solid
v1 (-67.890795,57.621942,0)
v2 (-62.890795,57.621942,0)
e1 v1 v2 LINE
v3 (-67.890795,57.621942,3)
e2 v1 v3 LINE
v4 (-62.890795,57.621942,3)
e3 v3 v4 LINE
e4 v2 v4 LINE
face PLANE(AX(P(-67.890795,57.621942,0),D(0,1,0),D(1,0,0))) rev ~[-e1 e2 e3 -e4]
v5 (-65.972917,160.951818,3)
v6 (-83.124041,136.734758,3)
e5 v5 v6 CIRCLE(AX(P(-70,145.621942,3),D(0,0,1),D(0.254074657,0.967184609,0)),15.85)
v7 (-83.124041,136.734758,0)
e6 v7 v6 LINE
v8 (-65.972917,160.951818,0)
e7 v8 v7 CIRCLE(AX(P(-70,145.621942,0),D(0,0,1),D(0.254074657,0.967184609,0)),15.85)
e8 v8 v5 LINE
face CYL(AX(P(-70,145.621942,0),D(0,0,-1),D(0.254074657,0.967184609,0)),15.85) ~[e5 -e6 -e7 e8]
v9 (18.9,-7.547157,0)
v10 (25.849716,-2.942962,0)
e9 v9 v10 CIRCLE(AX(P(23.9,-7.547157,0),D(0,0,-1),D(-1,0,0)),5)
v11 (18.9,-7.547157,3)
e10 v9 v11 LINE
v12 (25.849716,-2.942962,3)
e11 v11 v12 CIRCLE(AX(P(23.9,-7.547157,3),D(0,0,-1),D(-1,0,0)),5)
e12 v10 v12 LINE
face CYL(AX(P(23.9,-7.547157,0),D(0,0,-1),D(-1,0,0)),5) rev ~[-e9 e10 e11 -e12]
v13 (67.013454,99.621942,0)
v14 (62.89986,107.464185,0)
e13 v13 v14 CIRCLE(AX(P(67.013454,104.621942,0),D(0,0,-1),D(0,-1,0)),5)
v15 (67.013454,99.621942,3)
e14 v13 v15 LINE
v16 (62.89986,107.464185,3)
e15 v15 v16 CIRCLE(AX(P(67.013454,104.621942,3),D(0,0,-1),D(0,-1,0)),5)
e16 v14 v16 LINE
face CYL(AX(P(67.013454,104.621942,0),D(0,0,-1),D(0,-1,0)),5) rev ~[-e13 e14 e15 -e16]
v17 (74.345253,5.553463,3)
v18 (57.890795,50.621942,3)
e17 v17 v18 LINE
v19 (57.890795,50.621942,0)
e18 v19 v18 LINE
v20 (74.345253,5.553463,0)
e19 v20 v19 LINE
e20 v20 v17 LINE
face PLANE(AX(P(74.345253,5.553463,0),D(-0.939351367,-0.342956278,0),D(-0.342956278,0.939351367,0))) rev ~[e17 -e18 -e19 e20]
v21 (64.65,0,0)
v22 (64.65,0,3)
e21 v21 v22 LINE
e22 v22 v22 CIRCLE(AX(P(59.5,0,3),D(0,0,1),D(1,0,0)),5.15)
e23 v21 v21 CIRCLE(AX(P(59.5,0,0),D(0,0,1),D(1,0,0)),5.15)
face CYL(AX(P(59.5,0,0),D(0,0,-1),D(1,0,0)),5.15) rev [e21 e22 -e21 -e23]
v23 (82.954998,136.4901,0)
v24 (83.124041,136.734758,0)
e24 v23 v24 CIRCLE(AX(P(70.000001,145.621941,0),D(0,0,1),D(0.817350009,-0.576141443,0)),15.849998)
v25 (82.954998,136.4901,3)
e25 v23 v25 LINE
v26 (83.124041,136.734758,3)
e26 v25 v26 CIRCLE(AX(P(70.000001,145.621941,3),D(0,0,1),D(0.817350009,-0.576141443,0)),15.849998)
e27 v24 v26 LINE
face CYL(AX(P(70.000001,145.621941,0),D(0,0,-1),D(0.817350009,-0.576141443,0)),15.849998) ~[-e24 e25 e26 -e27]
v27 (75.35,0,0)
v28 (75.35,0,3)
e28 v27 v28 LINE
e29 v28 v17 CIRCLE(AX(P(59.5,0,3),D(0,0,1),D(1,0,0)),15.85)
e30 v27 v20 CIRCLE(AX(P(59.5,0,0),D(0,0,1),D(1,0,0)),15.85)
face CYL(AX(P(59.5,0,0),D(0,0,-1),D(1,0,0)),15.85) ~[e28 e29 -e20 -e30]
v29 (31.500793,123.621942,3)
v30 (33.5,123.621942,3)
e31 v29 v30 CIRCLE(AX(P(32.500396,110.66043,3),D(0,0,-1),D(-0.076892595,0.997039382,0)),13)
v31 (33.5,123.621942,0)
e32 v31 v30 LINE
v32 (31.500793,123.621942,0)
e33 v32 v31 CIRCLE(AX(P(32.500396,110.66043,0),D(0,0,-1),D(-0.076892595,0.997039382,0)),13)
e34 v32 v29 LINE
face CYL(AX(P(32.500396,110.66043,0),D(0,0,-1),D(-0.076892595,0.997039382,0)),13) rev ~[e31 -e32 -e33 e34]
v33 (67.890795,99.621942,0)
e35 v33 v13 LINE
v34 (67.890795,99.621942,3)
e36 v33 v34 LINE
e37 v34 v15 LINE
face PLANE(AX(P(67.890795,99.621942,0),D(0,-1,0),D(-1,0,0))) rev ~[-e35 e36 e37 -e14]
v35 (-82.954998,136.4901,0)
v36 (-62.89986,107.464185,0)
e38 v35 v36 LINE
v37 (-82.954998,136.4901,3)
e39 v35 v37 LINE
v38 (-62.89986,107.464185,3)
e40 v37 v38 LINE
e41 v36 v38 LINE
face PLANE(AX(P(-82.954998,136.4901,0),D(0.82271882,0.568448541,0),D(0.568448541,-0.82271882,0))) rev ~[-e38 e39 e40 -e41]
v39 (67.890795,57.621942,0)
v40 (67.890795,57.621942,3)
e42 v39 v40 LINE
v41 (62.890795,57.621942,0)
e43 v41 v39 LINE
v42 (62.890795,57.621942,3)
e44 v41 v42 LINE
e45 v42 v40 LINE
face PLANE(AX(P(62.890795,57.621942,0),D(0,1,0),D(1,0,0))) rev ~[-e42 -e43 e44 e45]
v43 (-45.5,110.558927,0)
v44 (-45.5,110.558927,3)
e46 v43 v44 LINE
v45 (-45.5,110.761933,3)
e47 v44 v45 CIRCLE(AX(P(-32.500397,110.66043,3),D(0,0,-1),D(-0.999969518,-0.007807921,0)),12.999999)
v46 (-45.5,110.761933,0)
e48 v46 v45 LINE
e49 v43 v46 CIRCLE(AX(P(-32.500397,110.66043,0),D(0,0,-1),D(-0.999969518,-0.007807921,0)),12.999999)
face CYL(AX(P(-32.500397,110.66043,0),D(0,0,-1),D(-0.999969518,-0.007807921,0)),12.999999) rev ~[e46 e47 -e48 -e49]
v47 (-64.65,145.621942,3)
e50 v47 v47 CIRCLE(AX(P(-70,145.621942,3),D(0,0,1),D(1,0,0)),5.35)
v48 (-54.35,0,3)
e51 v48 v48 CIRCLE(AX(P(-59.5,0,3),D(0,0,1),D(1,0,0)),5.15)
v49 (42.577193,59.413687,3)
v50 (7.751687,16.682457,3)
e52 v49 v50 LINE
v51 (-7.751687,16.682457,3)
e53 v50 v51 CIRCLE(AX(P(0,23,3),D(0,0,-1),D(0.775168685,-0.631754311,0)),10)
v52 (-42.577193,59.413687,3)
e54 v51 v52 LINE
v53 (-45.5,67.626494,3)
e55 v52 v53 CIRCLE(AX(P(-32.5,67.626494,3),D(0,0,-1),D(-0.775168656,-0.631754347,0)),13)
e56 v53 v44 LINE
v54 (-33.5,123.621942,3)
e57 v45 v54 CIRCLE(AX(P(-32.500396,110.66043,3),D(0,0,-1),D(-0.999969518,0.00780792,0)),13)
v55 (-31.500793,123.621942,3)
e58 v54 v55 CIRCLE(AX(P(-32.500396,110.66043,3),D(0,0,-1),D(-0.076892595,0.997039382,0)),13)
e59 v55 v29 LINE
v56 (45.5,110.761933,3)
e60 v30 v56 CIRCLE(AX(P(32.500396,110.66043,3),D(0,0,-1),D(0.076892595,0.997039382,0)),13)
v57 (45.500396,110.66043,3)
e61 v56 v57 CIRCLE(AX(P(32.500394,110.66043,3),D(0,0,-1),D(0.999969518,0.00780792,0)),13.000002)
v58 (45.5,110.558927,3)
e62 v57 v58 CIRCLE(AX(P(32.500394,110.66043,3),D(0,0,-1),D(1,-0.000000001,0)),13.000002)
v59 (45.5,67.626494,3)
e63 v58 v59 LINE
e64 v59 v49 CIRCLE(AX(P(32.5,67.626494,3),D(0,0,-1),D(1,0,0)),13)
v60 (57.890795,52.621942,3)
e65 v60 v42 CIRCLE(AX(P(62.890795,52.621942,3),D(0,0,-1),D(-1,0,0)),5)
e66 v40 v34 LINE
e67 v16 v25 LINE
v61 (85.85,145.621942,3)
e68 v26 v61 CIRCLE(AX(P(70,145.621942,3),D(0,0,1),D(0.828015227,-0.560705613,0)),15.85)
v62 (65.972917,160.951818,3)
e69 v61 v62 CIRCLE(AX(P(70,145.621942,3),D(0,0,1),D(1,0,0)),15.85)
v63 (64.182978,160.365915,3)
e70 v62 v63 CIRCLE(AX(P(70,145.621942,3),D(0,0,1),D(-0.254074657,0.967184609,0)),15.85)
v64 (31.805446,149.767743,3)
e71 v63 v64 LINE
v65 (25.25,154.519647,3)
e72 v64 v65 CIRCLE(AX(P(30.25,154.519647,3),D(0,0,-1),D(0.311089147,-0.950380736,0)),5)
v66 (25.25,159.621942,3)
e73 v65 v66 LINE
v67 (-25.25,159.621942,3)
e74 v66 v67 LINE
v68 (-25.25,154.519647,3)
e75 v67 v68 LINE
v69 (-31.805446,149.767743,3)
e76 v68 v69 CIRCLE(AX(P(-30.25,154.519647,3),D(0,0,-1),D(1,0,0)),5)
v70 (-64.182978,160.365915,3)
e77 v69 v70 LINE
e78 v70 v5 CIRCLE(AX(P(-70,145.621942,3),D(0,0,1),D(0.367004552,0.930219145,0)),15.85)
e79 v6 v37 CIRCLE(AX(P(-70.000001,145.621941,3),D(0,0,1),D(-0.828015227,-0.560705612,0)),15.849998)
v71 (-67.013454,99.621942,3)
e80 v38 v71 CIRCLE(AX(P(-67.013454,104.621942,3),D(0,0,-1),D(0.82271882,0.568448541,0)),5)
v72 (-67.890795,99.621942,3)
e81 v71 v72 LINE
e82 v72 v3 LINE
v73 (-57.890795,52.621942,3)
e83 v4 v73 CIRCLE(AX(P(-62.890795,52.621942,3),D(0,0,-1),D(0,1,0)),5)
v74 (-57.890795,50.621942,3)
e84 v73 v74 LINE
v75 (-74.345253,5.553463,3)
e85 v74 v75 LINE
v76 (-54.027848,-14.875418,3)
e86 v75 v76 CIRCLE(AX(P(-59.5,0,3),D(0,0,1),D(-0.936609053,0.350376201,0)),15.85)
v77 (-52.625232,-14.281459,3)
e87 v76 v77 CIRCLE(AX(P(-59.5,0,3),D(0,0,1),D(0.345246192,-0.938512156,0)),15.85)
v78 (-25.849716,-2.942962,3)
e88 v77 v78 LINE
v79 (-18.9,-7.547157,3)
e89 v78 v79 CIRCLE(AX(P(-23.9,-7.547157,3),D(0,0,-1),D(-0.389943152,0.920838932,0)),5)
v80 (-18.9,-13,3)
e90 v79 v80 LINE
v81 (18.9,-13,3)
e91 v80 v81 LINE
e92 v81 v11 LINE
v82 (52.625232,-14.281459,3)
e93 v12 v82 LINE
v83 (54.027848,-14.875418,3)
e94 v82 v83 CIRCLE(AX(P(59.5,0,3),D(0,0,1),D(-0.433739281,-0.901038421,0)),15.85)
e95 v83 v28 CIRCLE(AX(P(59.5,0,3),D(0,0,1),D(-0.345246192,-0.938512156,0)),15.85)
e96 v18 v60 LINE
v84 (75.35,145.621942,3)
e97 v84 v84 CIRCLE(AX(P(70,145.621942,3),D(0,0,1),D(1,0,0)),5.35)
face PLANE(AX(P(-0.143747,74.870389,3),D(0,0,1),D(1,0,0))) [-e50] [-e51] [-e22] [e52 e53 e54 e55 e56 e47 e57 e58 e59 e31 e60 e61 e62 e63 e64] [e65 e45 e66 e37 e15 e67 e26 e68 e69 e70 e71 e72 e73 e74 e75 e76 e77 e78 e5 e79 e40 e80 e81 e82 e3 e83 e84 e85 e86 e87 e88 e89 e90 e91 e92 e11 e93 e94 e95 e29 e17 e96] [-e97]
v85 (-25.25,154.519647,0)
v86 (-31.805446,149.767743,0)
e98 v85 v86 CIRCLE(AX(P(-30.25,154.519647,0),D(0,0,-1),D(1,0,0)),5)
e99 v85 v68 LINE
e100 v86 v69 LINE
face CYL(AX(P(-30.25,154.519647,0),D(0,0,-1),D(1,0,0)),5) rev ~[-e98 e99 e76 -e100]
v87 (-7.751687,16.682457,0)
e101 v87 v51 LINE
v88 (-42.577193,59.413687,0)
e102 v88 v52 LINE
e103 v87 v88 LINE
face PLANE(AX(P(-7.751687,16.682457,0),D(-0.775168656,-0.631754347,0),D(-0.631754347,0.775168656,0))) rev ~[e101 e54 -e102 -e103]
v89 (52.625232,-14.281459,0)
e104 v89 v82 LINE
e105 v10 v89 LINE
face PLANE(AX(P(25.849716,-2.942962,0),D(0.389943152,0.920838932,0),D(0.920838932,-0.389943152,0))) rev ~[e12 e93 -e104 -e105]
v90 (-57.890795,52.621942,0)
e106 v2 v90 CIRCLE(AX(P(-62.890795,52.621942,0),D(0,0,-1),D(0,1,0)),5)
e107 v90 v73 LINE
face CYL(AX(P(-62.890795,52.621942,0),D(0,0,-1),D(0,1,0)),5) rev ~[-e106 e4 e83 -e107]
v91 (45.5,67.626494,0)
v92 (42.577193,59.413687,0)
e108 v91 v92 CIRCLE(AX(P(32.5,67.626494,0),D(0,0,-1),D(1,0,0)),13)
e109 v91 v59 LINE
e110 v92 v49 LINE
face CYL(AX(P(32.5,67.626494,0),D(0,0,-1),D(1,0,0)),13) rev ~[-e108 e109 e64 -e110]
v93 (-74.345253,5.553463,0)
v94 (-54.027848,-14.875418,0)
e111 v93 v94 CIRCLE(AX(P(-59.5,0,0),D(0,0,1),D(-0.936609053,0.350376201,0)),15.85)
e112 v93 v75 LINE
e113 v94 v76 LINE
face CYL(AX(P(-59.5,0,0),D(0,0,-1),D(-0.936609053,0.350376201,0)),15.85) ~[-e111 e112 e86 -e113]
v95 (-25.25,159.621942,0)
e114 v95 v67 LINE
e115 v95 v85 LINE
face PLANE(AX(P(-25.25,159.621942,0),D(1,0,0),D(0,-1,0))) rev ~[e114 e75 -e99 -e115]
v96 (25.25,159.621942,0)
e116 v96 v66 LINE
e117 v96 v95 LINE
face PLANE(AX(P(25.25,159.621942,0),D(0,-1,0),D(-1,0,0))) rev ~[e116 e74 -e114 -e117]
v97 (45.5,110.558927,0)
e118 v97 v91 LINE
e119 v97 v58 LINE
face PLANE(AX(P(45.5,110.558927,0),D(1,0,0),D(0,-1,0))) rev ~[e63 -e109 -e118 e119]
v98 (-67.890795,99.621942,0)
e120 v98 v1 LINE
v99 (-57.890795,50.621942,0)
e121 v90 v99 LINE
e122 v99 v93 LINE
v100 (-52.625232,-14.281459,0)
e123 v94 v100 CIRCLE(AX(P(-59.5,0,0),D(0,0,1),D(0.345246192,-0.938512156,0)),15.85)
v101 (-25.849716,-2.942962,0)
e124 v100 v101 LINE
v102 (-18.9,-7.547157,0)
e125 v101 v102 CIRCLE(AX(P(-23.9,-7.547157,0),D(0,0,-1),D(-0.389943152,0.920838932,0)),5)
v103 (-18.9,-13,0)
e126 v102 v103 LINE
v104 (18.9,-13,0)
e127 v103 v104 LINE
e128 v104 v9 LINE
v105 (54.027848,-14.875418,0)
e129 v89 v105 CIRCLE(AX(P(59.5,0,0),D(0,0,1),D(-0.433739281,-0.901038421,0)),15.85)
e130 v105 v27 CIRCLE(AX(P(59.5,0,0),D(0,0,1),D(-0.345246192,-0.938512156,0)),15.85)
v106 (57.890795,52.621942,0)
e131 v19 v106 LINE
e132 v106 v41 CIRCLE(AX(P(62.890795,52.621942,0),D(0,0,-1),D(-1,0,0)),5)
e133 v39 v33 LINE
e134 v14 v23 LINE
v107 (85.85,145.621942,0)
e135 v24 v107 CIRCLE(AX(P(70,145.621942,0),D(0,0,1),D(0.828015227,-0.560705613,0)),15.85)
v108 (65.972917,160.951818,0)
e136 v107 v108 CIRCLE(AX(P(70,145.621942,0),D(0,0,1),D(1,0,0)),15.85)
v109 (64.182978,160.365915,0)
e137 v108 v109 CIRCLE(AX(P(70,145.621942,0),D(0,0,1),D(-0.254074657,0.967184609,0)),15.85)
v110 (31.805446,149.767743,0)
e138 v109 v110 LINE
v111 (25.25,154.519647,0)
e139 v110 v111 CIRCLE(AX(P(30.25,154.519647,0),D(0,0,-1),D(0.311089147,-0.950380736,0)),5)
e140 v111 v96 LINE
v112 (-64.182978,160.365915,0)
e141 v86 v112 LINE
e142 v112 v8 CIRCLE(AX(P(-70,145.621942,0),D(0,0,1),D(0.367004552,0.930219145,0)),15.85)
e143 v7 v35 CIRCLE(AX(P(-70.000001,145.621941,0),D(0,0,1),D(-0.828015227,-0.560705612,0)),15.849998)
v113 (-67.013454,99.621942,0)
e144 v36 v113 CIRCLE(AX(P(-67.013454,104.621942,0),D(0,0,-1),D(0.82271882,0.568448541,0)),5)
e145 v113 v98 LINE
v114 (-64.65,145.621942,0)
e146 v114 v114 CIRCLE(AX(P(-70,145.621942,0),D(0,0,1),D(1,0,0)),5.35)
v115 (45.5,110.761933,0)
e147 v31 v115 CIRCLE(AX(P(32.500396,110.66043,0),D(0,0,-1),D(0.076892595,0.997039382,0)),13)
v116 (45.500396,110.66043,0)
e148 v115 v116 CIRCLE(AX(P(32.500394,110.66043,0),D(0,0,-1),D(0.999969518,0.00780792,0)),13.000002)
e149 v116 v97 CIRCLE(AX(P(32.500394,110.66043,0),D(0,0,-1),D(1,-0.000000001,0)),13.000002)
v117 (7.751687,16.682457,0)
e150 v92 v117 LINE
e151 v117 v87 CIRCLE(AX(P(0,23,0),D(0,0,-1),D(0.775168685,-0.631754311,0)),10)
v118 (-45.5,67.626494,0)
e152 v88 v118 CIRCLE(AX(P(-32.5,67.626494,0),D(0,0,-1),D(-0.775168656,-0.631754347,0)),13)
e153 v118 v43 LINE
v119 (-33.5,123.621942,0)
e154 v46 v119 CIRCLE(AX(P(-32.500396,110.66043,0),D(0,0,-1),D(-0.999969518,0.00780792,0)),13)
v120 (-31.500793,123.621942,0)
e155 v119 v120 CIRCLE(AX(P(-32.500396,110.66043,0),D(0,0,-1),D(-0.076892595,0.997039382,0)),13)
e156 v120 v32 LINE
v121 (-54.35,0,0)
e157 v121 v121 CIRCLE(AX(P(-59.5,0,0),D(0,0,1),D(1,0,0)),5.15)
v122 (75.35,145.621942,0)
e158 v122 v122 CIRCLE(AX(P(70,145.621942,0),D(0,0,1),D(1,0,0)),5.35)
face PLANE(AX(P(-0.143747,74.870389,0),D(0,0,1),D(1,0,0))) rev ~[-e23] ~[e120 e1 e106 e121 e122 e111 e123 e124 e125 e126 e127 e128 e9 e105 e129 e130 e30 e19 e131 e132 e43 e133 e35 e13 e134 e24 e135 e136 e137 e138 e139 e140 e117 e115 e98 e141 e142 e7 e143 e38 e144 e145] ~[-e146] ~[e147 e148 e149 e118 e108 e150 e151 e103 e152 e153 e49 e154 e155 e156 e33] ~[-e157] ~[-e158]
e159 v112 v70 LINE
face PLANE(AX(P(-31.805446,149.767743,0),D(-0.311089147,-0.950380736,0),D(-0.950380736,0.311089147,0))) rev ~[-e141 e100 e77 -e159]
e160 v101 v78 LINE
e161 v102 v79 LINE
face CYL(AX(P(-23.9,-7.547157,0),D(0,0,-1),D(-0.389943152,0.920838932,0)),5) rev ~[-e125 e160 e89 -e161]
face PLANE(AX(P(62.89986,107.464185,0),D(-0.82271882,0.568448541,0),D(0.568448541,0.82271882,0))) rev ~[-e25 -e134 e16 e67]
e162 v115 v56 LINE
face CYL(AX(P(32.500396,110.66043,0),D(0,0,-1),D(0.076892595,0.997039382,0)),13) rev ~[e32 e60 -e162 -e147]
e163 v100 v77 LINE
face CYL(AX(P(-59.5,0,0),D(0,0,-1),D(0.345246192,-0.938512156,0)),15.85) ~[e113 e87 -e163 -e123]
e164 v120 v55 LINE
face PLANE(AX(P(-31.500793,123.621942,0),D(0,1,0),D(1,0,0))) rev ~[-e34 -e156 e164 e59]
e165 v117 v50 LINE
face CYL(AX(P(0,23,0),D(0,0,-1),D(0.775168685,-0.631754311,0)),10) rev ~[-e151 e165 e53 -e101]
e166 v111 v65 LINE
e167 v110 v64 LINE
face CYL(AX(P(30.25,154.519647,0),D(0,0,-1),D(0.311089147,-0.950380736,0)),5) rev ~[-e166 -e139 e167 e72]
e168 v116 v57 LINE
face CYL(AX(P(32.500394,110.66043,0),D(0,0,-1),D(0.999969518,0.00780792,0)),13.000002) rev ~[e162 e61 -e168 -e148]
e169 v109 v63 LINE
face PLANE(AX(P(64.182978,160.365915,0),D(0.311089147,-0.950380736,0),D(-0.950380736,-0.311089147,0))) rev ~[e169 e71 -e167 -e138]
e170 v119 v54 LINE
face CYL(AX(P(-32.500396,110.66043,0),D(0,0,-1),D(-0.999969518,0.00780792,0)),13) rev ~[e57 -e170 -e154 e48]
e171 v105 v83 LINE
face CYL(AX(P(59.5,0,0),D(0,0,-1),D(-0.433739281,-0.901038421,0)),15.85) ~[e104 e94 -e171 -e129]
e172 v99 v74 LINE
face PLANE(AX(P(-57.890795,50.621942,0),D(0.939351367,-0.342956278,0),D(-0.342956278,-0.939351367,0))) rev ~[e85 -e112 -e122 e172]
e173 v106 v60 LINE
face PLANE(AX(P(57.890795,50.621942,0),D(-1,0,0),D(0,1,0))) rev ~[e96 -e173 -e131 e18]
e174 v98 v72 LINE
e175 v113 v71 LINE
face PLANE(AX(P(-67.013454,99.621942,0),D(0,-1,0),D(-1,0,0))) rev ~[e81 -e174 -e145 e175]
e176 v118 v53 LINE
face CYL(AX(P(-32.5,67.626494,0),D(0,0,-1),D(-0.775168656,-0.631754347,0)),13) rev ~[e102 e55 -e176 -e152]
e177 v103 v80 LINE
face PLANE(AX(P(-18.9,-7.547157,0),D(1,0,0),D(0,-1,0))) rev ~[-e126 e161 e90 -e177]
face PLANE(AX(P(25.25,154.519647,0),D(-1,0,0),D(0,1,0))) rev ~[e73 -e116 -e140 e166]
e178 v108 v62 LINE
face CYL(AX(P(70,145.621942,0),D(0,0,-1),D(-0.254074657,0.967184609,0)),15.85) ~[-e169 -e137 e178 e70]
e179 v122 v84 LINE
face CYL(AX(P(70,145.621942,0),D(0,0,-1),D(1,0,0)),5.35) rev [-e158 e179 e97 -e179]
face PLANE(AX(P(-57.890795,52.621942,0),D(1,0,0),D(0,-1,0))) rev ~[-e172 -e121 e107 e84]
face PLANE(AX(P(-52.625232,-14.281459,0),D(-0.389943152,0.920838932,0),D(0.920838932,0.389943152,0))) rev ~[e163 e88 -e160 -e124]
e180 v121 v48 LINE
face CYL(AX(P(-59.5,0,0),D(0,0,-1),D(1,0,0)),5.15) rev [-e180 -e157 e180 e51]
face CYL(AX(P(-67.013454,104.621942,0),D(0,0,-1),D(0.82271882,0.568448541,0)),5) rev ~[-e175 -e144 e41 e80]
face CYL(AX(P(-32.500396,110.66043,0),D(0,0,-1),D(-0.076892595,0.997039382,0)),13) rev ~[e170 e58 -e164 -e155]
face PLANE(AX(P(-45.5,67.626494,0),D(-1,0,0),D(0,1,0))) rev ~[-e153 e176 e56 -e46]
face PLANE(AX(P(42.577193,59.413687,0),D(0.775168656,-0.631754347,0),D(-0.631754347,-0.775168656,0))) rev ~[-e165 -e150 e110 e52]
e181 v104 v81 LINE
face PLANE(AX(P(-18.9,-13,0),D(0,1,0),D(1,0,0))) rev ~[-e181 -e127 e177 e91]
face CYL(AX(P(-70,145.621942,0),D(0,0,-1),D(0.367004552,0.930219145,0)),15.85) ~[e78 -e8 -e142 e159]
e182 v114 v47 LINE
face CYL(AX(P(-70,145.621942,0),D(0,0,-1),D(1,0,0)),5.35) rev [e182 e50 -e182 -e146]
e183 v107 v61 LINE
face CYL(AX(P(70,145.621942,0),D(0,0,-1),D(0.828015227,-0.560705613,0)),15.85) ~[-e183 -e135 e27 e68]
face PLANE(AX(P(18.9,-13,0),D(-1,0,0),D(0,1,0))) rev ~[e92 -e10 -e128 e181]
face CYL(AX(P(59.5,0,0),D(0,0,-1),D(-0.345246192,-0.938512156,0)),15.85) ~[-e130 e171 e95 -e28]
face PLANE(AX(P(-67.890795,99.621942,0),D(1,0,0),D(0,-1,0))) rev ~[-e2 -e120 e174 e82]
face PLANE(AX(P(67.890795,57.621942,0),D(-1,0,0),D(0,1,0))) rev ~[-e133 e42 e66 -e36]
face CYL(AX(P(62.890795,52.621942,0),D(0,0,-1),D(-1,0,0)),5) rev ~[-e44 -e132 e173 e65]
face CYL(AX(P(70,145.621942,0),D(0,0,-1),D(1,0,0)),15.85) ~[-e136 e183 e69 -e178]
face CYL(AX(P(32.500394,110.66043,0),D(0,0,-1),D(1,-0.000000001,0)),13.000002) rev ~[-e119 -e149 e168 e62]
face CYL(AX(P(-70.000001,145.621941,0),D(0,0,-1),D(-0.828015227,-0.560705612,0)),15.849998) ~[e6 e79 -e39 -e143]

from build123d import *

# Parameters (mm, degrees)
F0_R     = 5.15
F0_R_2   = 5.35
F1_DEPTH = 3


with BuildPart() as f1:
    # F0 (on Top) → F1 (new body)
    with BuildSketch(Plane.XY):
        with BuildLine():
            Line((-18.9, -13), (0, -13))
            Line((0, -13), (18.9, -13))
            Line((18.9, -13), (18.9, -7.5471567511))
            ThreePointArc((18.9, -7.5471567511), (21.1385310794, -3.3789089897), (25.8497157602, -2.9429620925))
            Line((25.8497157602, -2.9429620925), (52.6252323996, -14.2814589745))
            ThreePointArc((52.6252323996, -14.2814589745), (48.8117732228, 11.7040295779), (74.3452534861, 5.5534627876))
            Line((74.3452534861, 5.5534627876), (57.8907951768, 50.621942028))
            Line((57.8907951768, 50.621942028), (57.8907951768, 52.621942028))
            ThreePointArc((57.8907951768, 52.621942028), (59.3552612709, 56.1574759339), (62.8907951768, 57.621942028))
            Line((62.8907951768, 57.621942028), (67.8907951768, 57.621942028))
            Line((67.8907951768, 57.621942028), (67.8907951768, 99.621942028))
            Line((67.8907951768, 99.621942028), (67.0134539994, 99.621942028))
            ThreePointArc((67.0134539994, 99.621942028), (62.5856321018, 102.2993587156), (62.8998598996, 107.4641847308))
            Line((62.8998598996, 107.4641847308), (82.9549976553, 136.4901001683))
            ThreePointArc((82.9549976553, 136.4901001683), (57.5400115252, 135.8254535138), (64.1829778441, 160.3659154829))
            Line((64.1829778441, 160.3659154829), (31.8054457349, 149.7677431215))
            ThreePointArc((31.8054457349, 149.7677431215), (27.315483743, 150.4713614419), (25.25, 154.5196467995))
            Line((25.25, 154.5196467995), (25.25, 159.621942028))
            Line((25.25, 159.621942028), (0, 159.621942028))
            Line((0, 159.621942028), (-25.25, 159.621942028))
            Line((-25.25, 159.621942028), (-25.25, 154.5196467995))
            ThreePointArc((-25.25, 154.5196467995), (-27.315483743, 150.4713614419), (-31.8054457349, 149.7677431215))
            Line((-31.8054457349, 149.7677431215), (-64.1829778441, 160.3659154829))
            ThreePointArc((-64.1829778441, 160.3659154829), (-56.8961398594, 154.5388556989), (-54.15, 145.621942028))
            ThreePointArc((-54.15, 145.621942028), (-65.2101259326, 130.5130173006), (-82.9549976553, 136.4901001683))
            Line((-82.9549976553, 136.4901001683), (-62.8998598996, 107.4641847308))
            ThreePointArc((-62.8998598996, 107.4641847308), (-62.5856321018, 102.2993587156), (-67.0134539994, 99.621942028))
            Line((-67.0134539994, 99.621942028), (-67.8907951768, 99.621942028))
            Line((-67.8907951768, 99.621942028), (-67.8907951768, 57.621942028))
            Line((-67.8907951768, 57.621942028), (-62.8907951768, 57.621942028))
            ThreePointArc((-62.8907951768, 57.621942028), (-59.3552612709, 56.1574759339), (-57.8907951768, 52.621942028))
            Line((-57.8907951768, 52.621942028), (-57.8907951768, 50.621942028))
            Line((-57.8907951768, 50.621942028), (-74.3452534861, 5.5534627876))
            ThreePointArc((-74.3452534861, 5.5534627876), (-56.6781892121, 15.5967908198), (-43.65, 0))
            ThreePointArc((-43.65, 0), (-46.0800974954, -8.4337842495), (-52.6252323996, -14.2814589745))
            Line((-52.6252323996, -14.2814589745), (-25.8497157602, -2.9429620925))
            ThreePointArc((-25.8497157602, -2.9429620925), (-21.1385310794, -3.3789089897), (-18.9, -7.5471567511))
            Line((-18.9, -7.5471567511), (-18.9, -13))
        make_face()
        with BuildLine():
            Line((-31.5007925391, 123.621942028), (0, 123.621942028))
            Line((0, 123.621942028), (31.5007925391, 123.621942028))
            ThreePointArc((31.5007925391, 123.621942028), (32.5003962696, 123.6604300644), (33.5, 123.621942028))
            ThreePointArc((33.5, 123.621942028), (42.0051009072, 119.5295106115), (45.5, 110.7619330287))
            ThreePointArc((45.5, 110.7619330287), (45.5002972018, 110.7111819333), (45.5003962696, 110.6604300644))
            ThreePointArc((45.5003962696, 110.6604300644), (45.5002972018, 110.6096781955), (45.5, 110.5589271001))
            Line((45.5, 110.5589271001), (45.5, 67.6264936436))
            ThreePointArc((45.5, 67.6264936436), (44.7475202166, 63.2677956104), (42.5771925315, 59.413687139))
            Line((42.5771925315, 59.413687139), (7.7516868511, 16.6824568887))
            Line((7.7516868511, 16.6824568887), (0, 7.1710626049))
            Line((0, 7.1710626049), (-7.7516866199, 16.6824566051))
            Line((-7.7516866199, 16.6824566051), (-42.5771925315, 59.413687139))
            ThreePointArc((-42.5771925315, 59.413687139), (-44.7475202166, 63.2677956104), (-45.5, 67.6264936436))
            Line((-45.5, 67.6264936436), (-45.5, 110.5589271001))
            ThreePointArc((-45.5, 110.5589271001), (-45.5003962696, 110.6604300644), (-45.5, 110.7619330287))
            ThreePointArc((-45.5, 110.7619330287), (-42.0051009072, 119.5295106115), (-33.5, 123.621942028))
            ThreePointArc((-33.5, 123.621942028), (-32.5003962696, 123.6604300644), (-31.5007925391, 123.621942028))
        make_face(mode=Mode.SUBTRACT)
        with BuildLine():
            ThreePointArc((74.3452534861, 5.5534627876), (48.8117732228, 11.7040295779), (52.6252323996, -14.2814589745))
            Line((52.6252323996, -14.2814589745), (54.0278478598, -14.8754176733))
            Line((54.0278478598, -14.8754176733), (74.3452534861, 5.5534627876))
        make_face()
        with Locations((59.5, 0)):
            Circle(F0_R, mode=Mode.SUBTRACT)
        with BuildLine():
            Line((54.0278478598, -14.8754176733), (52.6252323996, -14.2814589745))
            ThreePointArc((52.6252323996, -14.2814589745), (53.31940104, -14.5952970678), (54.0278478598, -14.8754176733))
        make_face()
        with BuildLine():
            Line((-54.0278478598, -14.8754176733), (-52.6252323996, -14.2814589745))
            ThreePointArc((-52.6252323996, -14.2814589745), (-46.0800974954, -8.4337842495), (-43.65, 0))
            ThreePointArc((-43.65, 0), (-56.6781892121, 15.5967908198), (-74.3452534861, 5.5534627876))
            Line((-74.3452534861, 5.5534627876), (-54.0278478598, -14.8754176733))
        make_face()
        with Locations((-59.5, 0)):
            Circle(F0_R, mode=Mode.SUBTRACT)
        with BuildLine():
            ThreePointArc((-54.0278478598, -14.8754176733), (-53.31940104, -14.5952970678), (-52.6252323996, -14.2814589745))
            Line((-52.6252323996, -14.2814589745), (-54.0278478598, -14.8754176733))
        make_face()
        with BuildLine():
            Line((74.3452534861, 5.5534627876), (54.0278478598, -14.8754176733))
            ThreePointArc((54.0278478598, -14.8754176733), (68.5688722722, -12.9991559615), (75.35, 0))
            ThreePointArc((75.35, 0), (75.0967908198, 2.8218107879), (74.3452534861, 5.5534627876))
        make_face()
        with BuildLine():
            ThreePointArc((-74.3452534861, 5.5534627876), (-70.7382626073, -11.1769384703), (-54.0278478598, -14.8754176733))
            Line((-54.0278478598, -14.8754176733), (-74.3452534861, 5.5534627876))
        make_face()
        with BuildLine():
            ThreePointArc((64.1829778441, 160.3659154829), (57.5400115252, 135.8254535138), (82.9549976553, 136.4901001683))
            Line((82.9549976553, 136.4901001683), (83.1240413462, 136.7347580678))
            Line((83.1240413462, 136.7347580678), (65.9729166922, 160.9518180885))
            Line((65.9729166922, 160.9518180885), (64.1829778441, 160.3659154829))
        make_face()
        with Locations((70, 145.621942028)):
            Circle(F0_R_2, mode=Mode.SUBTRACT)
        with BuildLine():
            Line((83.1240413462, 136.7347580678), (82.9549976553, 136.4901001683))
            ThreePointArc((82.9549976553, 136.4901001683), (83.0400932966, 136.6120326601), (83.1240413462, 136.7347580678))
        make_face()
        with BuildLine():
            Line((65.9729166922, 160.9518180885), (83.1240413462, 136.7347580678))
            ThreePointArc((83.1240413462, 136.7347580678), (85.1531936459, 140.9740153578), (85.85, 145.621942028))
            ThreePointArc((85.85, 145.621942028), (79.6797011724, 158.1728736752), (65.9729166922, 160.9518180885))
        make_face()
        with BuildLine():
            ThreePointArc((65.9729166922, 160.9518180885), (65.0692370204, 160.6854766875), (64.1829778441, 160.3659154829))
            Line((64.1829778441, 160.3659154829), (65.9729166922, 160.9518180885))
        make_face()
        with BuildLine():
            ThreePointArc((-83.1240413462, 136.7347580678), (-83.0400932966, 136.6120326601), (-82.9549976553, 136.4901001683))
            Line((-82.9549976553, 136.4901001683), (-83.1240413462, 136.7347580678))
        make_face()
        with BuildLine():
            Line((-83.1240413462, 136.7347580678), (-82.9549976553, 136.4901001683))
            ThreePointArc((-82.9549976553, 136.4901001683), (-65.2101259326, 130.5130173006), (-54.15, 145.621942028))
            ThreePointArc((-54.15, 145.621942028), (-56.8961398594, 154.5388556989), (-64.1829778441, 160.3659154829))
            Line((-64.1829778441, 160.3659154829), (-65.9729166922, 160.9518180885))
            Line((-65.9729166922, 160.9518180885), (-83.1240413462, 136.7347580678))
        make_face()
        with Locations((-70, 145.621942028)):
            Circle(F0_R_2, mode=Mode.SUBTRACT)
        with BuildLine():
            ThreePointArc((-65.9729166922, 160.9518180885), (-82.9346496049, 154.7825828134), (-83.1240413462, 136.7347580678))
            Line((-83.1240413462, 136.7347580678), (-65.9729166922, 160.9518180885))
        make_face()
        with BuildLine():
            ThreePointArc((-64.1829778441, 160.3659154829), (-65.0692370204, 160.6854766875), (-65.9729166922, 160.9518180885))
            Line((-65.9729166922, 160.9518180885), (-64.1829778441, 160.3659154829))
        make_face()
        with BuildLine():
            Line((0, 7.1710626049), (7.7516868511, 16.6824568887))
            ThreePointArc((7.7516868511, 16.6824568887), (1.829e-07, 13), (-7.7516866199, 16.6824566051))
            Line((-7.7516866199, 16.6824566051), (0, 7.1710626049))
        make_face()
    extrude(amount=F1_DEPTH)


solid = f1.part
